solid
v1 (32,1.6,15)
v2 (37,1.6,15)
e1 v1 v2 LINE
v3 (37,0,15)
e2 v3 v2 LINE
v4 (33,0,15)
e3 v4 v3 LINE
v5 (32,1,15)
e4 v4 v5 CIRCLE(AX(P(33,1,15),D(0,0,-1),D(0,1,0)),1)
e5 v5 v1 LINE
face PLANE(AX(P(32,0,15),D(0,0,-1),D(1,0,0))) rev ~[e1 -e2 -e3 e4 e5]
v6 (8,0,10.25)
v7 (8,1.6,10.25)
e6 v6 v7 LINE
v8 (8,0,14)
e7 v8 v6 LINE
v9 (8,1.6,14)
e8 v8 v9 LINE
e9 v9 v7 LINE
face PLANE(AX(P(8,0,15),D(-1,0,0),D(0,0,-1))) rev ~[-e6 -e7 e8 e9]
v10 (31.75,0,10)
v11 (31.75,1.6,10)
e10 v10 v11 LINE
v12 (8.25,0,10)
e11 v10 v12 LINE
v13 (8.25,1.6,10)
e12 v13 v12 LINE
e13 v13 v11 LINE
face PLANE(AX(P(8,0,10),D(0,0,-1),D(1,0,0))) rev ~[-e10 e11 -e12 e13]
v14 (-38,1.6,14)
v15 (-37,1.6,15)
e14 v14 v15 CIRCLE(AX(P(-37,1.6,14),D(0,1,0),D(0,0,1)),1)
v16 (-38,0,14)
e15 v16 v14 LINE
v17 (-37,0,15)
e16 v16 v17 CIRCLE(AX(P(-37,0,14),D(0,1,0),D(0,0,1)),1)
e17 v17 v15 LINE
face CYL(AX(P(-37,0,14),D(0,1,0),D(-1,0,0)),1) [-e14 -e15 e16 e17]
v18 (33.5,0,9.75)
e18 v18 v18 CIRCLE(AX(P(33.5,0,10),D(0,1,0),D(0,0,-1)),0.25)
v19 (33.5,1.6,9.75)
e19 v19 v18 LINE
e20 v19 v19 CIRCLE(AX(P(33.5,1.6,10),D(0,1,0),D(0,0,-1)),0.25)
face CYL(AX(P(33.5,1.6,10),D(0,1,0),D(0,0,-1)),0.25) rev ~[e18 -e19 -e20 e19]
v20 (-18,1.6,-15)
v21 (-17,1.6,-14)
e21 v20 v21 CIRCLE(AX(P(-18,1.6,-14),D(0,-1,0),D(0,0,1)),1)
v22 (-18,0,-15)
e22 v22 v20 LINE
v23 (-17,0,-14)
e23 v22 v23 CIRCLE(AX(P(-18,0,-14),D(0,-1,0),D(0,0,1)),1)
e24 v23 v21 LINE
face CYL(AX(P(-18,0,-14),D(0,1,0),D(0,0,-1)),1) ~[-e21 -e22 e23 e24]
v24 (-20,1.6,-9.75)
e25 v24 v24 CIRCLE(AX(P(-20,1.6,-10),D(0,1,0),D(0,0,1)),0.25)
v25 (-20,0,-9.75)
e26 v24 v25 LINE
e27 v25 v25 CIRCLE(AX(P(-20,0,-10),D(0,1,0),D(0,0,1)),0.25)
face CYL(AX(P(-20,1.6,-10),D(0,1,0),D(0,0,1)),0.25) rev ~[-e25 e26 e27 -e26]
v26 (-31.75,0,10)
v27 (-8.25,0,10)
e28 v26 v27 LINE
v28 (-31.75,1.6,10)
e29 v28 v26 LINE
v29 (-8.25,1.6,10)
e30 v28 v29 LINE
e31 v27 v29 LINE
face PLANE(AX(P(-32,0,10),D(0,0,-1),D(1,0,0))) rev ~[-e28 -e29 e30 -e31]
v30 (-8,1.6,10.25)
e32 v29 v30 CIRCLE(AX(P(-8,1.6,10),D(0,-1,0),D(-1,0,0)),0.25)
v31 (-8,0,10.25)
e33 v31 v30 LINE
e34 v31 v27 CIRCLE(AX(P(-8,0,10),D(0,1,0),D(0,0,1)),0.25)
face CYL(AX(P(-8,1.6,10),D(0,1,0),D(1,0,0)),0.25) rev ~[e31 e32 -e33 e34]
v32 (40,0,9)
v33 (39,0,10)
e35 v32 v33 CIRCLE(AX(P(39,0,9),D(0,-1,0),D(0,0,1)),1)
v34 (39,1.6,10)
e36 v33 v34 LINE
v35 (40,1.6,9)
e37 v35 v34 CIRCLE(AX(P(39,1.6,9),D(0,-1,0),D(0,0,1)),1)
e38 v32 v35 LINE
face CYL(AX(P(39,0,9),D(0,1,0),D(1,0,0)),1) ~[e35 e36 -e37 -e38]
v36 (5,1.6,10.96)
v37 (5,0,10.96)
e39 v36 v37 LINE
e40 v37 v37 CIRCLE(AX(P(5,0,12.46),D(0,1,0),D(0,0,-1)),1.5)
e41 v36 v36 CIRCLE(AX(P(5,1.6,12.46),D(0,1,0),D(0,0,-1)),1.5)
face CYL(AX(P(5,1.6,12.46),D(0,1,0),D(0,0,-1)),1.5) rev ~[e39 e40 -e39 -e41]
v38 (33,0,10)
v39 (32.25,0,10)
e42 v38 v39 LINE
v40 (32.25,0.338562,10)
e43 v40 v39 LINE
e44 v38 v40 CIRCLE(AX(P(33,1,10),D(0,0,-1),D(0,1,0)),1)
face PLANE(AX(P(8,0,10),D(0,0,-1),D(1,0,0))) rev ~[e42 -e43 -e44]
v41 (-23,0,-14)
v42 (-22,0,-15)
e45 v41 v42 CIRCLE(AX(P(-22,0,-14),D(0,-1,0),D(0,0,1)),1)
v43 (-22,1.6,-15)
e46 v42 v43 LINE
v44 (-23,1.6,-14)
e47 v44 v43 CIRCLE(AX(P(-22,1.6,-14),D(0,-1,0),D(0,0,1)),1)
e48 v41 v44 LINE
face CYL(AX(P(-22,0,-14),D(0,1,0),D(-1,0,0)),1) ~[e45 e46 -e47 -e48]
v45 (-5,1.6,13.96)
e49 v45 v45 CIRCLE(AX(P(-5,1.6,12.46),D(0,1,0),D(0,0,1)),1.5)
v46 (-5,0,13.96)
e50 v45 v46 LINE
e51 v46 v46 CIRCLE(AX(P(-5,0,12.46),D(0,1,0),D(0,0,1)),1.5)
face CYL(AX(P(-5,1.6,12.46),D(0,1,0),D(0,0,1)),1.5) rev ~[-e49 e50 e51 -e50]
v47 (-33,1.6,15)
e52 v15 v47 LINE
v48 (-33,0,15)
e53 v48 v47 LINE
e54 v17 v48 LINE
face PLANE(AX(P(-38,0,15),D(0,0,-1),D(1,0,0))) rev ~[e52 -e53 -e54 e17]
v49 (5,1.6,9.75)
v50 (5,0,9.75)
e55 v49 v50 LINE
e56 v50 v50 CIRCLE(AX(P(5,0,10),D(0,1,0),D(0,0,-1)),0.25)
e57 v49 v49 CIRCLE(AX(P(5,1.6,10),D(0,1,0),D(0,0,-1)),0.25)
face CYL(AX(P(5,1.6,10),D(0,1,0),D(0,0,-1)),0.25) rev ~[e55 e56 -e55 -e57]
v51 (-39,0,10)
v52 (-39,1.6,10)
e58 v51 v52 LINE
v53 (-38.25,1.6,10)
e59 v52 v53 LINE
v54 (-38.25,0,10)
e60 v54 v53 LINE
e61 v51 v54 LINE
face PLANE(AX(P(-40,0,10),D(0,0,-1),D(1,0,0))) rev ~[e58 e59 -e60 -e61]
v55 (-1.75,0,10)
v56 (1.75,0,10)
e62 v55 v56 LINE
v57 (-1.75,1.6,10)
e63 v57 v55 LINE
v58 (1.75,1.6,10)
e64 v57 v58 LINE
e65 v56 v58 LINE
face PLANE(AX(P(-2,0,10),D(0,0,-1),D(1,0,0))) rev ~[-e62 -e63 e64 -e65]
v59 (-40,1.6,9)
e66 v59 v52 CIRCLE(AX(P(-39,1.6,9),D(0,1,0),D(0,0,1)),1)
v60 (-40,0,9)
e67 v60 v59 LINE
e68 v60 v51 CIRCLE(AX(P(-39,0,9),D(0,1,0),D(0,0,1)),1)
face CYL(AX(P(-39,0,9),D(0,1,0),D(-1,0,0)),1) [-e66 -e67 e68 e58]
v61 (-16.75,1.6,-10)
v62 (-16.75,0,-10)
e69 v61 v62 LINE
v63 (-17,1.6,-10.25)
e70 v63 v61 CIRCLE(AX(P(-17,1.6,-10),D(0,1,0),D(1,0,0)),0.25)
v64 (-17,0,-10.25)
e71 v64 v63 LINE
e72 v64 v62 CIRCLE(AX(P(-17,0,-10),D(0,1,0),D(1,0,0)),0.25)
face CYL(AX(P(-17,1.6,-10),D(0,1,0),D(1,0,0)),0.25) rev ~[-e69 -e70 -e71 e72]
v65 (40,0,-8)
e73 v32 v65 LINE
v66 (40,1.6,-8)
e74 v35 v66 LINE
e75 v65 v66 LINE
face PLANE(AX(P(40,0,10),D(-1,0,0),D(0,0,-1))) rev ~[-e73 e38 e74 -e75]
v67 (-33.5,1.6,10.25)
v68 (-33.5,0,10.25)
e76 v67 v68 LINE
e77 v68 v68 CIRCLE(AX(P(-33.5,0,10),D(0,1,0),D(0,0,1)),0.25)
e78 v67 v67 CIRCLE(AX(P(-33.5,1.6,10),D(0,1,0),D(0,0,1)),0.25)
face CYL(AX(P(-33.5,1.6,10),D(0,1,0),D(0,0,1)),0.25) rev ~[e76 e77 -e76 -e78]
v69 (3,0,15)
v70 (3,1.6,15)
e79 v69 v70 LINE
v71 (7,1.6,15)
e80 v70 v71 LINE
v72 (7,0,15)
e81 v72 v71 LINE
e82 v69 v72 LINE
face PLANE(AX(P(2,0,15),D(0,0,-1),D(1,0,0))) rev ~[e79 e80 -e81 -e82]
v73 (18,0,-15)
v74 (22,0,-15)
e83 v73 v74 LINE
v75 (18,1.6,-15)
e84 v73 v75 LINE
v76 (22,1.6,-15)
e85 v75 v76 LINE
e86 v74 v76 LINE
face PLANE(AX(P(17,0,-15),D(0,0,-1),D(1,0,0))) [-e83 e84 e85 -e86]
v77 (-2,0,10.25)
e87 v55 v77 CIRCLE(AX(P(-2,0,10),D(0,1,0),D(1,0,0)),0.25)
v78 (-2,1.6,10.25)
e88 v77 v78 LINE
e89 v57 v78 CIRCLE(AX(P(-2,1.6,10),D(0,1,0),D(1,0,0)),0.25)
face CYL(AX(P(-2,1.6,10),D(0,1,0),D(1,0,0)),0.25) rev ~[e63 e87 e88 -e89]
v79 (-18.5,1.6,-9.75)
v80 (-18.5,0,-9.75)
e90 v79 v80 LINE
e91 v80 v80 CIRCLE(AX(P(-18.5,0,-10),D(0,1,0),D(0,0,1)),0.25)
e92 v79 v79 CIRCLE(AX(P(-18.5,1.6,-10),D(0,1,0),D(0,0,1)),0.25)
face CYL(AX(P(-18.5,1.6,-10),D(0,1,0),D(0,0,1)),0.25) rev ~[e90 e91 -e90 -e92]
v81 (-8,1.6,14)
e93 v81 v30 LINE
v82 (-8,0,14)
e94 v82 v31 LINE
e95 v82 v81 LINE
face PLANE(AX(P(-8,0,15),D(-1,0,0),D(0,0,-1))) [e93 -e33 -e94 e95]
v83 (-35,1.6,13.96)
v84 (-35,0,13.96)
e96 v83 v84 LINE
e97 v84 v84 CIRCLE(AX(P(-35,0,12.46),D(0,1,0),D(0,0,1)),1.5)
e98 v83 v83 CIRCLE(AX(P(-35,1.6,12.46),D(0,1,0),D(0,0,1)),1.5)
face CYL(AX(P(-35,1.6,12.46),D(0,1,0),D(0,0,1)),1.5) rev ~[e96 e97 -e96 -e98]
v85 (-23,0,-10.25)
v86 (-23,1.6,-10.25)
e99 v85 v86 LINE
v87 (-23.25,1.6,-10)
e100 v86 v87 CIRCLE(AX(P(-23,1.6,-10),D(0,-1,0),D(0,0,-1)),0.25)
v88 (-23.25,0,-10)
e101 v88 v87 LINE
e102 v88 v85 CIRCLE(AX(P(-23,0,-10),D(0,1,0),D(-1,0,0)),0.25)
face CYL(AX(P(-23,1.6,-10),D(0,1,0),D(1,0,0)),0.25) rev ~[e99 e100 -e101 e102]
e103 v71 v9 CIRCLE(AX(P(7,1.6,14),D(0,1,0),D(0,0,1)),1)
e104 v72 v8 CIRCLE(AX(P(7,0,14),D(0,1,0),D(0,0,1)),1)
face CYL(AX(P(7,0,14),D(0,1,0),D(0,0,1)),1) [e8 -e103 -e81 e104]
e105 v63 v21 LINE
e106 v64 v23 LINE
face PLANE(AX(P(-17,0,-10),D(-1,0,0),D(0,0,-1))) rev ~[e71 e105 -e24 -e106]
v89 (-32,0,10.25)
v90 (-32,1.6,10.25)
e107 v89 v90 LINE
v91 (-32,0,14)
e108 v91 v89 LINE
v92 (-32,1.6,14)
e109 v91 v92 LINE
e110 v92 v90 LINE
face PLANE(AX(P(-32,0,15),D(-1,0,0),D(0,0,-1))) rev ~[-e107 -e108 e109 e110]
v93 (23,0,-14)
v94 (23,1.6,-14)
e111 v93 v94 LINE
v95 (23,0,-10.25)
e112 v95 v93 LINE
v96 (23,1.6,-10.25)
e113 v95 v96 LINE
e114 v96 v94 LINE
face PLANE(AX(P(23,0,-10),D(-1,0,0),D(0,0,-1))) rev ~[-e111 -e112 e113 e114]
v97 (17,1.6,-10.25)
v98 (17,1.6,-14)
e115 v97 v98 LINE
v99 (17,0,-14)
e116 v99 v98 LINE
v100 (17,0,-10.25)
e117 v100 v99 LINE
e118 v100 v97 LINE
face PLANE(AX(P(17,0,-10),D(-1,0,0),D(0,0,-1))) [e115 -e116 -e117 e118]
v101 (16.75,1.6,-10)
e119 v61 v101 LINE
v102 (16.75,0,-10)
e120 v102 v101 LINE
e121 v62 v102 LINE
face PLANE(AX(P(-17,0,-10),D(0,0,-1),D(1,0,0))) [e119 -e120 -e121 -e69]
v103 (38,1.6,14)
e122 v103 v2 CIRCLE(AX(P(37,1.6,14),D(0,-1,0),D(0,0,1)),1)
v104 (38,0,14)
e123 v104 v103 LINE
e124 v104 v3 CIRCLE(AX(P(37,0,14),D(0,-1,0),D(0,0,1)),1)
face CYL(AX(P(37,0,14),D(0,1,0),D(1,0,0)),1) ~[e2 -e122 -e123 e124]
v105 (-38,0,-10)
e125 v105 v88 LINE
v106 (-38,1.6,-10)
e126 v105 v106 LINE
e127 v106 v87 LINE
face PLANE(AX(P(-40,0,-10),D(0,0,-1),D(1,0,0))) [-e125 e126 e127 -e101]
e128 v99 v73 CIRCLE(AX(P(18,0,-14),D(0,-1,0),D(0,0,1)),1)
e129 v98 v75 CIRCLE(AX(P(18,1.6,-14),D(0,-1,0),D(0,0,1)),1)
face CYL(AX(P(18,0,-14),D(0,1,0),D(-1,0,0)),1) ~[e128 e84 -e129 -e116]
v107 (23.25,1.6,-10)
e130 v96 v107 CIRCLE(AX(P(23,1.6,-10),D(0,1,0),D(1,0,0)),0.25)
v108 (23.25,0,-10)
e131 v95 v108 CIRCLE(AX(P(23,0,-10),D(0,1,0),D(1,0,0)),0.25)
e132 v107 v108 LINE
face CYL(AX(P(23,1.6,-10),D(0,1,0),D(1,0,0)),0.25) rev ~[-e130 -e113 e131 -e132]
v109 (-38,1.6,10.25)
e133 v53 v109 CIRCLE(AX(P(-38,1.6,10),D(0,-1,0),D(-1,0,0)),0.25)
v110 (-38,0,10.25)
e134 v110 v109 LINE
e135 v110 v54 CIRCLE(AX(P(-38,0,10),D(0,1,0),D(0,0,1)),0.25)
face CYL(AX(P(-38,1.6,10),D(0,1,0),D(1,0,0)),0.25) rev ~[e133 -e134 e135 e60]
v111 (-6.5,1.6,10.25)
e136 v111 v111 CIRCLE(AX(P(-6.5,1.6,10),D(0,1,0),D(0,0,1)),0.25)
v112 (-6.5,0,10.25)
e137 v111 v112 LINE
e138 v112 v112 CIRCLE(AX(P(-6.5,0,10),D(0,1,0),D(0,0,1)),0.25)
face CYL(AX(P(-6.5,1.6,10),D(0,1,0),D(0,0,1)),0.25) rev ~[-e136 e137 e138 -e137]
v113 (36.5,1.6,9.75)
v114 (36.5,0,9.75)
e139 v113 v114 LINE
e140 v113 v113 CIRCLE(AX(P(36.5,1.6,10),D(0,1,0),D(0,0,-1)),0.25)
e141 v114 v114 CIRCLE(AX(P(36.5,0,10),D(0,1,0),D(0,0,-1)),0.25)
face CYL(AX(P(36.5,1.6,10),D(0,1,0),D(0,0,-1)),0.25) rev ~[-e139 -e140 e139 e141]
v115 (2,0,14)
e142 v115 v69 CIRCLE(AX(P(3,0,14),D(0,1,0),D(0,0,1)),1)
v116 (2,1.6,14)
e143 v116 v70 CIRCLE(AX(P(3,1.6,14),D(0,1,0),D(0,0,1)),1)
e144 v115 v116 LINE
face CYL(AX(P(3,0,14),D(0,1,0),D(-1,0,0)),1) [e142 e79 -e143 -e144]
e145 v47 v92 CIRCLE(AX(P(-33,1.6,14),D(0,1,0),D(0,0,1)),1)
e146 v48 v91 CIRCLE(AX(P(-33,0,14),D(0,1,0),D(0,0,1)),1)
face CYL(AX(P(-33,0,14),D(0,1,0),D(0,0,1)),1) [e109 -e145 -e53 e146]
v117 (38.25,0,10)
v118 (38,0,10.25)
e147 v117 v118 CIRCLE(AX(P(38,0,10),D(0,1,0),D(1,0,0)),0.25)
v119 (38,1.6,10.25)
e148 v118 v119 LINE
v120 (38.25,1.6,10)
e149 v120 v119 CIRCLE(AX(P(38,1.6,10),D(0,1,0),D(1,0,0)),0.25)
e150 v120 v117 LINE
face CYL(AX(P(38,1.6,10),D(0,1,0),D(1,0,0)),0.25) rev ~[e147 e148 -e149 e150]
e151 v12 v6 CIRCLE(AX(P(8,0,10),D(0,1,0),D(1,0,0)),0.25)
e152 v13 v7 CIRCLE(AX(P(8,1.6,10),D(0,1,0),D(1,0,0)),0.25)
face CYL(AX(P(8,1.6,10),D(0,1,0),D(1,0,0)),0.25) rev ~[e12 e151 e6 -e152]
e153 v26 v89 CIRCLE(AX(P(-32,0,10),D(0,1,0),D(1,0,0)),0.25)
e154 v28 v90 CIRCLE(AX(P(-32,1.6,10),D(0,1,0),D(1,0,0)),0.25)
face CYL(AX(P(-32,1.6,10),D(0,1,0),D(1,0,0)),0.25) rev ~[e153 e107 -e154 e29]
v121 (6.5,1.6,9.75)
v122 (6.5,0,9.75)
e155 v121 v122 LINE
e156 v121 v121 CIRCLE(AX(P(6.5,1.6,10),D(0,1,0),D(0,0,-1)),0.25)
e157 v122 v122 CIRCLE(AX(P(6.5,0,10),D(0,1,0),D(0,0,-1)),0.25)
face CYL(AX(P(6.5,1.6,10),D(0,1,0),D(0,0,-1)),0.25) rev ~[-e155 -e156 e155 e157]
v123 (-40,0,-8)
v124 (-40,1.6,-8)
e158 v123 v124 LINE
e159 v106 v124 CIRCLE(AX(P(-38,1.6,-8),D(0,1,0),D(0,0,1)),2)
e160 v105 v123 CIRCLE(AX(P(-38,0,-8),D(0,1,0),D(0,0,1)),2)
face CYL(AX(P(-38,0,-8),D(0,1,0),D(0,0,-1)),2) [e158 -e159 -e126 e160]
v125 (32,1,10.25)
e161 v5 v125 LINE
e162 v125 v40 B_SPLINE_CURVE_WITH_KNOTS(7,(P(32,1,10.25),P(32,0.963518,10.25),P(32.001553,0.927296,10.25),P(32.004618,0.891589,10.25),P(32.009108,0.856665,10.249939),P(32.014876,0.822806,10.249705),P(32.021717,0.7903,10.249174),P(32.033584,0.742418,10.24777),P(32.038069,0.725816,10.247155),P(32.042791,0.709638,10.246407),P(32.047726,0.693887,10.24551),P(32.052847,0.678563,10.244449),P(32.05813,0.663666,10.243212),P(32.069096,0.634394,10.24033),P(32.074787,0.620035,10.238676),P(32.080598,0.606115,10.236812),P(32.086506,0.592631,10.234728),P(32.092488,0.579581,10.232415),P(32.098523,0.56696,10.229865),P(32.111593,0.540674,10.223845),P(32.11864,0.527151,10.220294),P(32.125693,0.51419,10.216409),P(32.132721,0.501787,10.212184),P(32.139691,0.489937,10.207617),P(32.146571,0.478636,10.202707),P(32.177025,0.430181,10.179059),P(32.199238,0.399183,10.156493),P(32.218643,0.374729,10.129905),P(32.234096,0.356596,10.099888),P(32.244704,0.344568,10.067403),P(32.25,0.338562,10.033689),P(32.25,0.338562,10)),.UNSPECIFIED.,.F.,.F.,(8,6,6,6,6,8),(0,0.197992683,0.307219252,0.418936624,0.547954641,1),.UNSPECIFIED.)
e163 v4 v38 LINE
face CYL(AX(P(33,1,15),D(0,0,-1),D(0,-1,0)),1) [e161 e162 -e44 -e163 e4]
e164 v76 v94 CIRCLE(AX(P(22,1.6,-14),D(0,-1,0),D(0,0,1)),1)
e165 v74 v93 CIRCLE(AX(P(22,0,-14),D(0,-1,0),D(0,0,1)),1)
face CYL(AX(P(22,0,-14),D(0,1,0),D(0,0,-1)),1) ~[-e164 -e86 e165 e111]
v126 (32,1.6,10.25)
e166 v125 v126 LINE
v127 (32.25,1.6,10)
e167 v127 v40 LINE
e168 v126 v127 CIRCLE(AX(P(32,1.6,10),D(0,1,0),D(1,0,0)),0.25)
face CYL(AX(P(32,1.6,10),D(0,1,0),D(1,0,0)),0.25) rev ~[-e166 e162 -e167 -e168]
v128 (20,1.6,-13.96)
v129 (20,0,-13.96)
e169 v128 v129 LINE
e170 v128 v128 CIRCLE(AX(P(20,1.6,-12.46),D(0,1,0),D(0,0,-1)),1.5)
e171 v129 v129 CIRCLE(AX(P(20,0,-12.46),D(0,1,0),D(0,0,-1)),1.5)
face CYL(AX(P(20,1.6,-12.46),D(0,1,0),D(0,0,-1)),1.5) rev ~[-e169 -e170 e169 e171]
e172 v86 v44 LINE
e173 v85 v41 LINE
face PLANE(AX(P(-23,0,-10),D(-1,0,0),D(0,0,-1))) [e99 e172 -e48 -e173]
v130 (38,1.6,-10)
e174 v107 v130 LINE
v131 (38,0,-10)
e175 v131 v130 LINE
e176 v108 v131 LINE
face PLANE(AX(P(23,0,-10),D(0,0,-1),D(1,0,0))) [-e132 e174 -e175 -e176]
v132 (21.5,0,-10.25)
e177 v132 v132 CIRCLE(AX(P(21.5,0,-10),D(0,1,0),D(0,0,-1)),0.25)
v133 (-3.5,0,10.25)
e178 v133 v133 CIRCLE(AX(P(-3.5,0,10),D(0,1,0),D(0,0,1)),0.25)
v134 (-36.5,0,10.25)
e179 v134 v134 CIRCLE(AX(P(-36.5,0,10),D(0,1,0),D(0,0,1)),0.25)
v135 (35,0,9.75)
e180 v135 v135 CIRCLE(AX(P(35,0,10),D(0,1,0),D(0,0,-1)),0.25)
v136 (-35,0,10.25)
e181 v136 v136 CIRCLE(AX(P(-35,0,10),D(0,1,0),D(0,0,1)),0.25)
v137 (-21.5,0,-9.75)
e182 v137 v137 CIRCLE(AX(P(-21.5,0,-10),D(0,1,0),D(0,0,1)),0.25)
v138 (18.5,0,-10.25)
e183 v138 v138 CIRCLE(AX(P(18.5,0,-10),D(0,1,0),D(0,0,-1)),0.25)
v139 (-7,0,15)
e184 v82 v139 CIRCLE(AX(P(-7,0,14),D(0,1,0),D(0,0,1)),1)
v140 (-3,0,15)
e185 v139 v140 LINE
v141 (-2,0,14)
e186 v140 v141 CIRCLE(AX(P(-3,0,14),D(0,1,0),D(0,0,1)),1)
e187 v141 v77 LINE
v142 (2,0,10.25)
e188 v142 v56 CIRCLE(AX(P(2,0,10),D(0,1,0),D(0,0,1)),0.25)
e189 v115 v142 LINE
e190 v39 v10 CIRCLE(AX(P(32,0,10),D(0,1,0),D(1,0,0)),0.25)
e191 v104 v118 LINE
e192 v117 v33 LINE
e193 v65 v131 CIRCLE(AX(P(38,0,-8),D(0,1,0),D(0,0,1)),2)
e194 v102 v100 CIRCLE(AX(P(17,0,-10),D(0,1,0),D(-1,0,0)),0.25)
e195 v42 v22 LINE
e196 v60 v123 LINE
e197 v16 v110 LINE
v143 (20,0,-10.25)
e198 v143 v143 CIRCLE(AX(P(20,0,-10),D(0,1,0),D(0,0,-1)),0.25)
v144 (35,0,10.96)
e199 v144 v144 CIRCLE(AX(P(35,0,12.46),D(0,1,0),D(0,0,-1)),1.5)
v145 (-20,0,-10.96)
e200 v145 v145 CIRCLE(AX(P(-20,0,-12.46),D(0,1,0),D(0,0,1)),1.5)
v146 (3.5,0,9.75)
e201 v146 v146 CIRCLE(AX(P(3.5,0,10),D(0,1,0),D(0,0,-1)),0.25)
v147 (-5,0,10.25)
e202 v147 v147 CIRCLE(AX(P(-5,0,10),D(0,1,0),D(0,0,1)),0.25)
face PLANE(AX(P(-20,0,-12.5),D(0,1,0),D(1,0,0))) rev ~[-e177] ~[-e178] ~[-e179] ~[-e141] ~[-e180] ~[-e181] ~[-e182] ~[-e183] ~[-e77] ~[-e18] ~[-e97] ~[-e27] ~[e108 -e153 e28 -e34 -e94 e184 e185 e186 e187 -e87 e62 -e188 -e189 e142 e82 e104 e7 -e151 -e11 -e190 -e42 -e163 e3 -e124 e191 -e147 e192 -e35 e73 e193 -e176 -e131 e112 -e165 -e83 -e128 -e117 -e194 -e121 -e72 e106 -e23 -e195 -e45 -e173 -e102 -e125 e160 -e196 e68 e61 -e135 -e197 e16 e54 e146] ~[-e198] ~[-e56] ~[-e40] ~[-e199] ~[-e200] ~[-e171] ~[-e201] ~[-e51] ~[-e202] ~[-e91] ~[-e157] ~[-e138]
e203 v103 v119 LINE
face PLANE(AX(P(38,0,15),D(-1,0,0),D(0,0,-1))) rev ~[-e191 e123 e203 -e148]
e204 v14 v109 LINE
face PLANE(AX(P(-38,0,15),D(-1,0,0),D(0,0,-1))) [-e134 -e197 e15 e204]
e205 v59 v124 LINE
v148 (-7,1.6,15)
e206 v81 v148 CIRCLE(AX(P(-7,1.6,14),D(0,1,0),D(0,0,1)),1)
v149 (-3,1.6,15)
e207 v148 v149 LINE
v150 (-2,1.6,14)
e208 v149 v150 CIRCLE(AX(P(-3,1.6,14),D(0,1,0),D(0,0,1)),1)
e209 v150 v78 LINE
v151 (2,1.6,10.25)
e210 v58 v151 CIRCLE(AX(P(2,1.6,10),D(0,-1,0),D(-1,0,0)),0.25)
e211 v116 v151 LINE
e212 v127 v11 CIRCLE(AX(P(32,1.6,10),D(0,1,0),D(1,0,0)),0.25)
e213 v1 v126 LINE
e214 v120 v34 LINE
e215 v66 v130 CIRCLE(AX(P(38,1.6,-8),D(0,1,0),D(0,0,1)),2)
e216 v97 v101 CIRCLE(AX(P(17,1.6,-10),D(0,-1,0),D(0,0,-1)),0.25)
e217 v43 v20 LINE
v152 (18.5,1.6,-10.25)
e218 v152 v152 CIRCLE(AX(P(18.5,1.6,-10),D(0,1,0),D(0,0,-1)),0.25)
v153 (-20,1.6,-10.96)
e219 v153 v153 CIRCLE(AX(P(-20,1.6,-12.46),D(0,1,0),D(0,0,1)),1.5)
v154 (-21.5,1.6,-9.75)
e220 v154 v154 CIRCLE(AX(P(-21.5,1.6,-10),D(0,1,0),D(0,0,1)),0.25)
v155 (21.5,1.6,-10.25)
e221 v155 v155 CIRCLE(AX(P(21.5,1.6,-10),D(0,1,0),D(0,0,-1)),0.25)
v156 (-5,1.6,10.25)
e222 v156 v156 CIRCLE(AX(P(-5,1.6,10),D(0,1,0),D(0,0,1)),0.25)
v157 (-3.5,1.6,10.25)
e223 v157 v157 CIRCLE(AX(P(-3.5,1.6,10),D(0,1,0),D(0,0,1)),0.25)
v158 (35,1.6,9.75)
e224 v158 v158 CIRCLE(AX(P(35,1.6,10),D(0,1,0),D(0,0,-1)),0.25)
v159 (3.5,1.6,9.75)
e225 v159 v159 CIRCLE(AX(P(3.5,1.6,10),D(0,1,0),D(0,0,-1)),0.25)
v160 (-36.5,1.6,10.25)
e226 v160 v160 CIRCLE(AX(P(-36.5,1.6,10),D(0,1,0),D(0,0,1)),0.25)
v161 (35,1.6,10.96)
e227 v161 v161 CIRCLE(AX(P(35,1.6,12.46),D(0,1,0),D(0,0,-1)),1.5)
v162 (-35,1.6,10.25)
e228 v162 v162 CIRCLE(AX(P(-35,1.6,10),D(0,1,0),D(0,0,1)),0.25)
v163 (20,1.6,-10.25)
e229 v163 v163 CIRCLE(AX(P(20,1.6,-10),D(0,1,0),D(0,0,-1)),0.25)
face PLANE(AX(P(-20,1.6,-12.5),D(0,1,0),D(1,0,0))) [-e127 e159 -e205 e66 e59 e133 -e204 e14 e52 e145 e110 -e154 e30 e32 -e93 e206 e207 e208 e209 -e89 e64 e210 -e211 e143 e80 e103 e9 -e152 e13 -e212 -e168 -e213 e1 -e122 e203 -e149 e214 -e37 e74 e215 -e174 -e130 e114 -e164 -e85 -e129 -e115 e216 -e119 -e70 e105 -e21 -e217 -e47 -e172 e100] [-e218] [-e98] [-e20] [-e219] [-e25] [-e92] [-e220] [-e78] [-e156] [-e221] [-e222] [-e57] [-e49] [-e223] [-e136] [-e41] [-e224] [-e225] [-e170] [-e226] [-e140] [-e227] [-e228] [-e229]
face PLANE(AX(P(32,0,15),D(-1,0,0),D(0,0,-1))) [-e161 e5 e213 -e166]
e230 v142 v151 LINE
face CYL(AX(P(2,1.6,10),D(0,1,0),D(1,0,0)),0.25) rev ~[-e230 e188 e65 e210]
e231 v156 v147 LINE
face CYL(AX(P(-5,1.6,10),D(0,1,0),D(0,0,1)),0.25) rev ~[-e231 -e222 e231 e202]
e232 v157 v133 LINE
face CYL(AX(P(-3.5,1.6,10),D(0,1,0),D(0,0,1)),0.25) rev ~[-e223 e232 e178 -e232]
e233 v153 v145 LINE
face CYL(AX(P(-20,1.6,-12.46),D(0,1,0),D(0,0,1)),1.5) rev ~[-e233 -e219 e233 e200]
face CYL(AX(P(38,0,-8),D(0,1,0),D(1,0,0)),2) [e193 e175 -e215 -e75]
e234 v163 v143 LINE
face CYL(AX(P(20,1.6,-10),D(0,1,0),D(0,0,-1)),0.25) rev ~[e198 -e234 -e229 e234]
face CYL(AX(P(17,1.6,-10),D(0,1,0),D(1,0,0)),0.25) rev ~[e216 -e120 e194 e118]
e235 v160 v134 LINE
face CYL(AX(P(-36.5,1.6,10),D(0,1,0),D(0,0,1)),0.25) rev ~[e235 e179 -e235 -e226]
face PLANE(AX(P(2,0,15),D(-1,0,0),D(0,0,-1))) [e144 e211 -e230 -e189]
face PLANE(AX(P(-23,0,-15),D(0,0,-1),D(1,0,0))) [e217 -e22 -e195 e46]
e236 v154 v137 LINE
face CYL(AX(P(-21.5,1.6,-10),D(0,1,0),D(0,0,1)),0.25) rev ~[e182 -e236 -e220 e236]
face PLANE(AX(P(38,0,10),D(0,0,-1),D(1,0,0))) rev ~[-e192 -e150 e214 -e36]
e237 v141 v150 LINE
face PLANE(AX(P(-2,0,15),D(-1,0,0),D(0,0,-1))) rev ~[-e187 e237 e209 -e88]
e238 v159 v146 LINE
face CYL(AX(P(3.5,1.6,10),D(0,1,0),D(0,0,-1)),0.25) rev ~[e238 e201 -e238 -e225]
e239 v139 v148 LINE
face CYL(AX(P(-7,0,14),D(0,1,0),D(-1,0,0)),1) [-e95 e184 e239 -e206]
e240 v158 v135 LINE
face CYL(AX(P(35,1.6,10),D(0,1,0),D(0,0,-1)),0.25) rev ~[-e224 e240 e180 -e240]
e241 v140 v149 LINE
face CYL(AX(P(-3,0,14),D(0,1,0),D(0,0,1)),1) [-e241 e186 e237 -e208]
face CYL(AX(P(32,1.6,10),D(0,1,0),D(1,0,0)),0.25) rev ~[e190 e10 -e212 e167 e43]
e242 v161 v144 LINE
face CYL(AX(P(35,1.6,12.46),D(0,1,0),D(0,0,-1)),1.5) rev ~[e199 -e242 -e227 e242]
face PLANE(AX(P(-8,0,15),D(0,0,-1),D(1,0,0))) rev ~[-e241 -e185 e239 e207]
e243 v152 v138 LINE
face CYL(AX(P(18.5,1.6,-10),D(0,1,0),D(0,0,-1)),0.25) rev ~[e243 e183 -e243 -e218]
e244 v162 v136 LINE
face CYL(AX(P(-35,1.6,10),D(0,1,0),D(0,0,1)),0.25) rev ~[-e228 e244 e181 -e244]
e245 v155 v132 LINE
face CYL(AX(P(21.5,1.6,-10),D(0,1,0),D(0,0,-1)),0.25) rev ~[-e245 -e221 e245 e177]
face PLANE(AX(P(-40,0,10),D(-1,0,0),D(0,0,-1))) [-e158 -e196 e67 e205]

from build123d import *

# Parameters (mm, degrees)
SKETCH_1_W          = 6
SKETCH_1_H          = 5
SKETCH_1_W_2        = 80
SKETCH_1_H_2        = 20
EXTRUDE_1_DEPTH     = 1.6
SKETCH_2_R          = 1.5
CUT_EXTRUDE_1_DEPTH = 43.74997076
FILLET_1_R          = 1
SKETCH_3_R          = 0.25
CUT_EXTRUDE_2_DEPTH = 43.74997076
FILLET_2_R          = 2


with BuildPart() as part:
    # Эскиз1 → Бобышка-Вытянуть1 (new body)
    with BuildSketch(Plane(origin=(0, 0, 0), x_dir=(1, 0, 0), z_dir=(0, 1, 0))):
        with Locations((-20, 12.5)):
            Rectangle(SKETCH_1_W, SKETCH_1_H)
        Rectangle(SKETCH_1_W_2, SKETCH_1_H_2)
        with Locations((20, 12.5)):
            Rectangle(SKETCH_1_W, SKETCH_1_H)
        with Locations((35, -12.5)):
            Rectangle(SKETCH_1_W, SKETCH_1_H)
        with Locations((5, -12.5)):
            Rectangle(SKETCH_1_W, SKETCH_1_H)
        with Locations((-5, -12.5)):
            Rectangle(SKETCH_1_W, SKETCH_1_H)
        with Locations((-35, -12.5)):
            Rectangle(SKETCH_1_W, SKETCH_1_H)
    extrude(amount=EXTRUDE_1_DEPTH)

    # Эскиз2 → Вырез-Вытянуть1 (cut, through all)
    with BuildSketch(Plane(origin=(0, 1.6, 0), x_dir=(1, 0, 0), z_dir=(0, 1, 0))):
        with Locations(Location((-20, 12.46, 0), (0, 0, 270))):
            Circle(SKETCH_2_R)
        with Locations(Location((-35, -12.46, 0), (0, 0, 270))):
            Circle(SKETCH_2_R)
        with Locations(Location((-5, -12.46, 0), (0, 0, 270))):
            Circle(SKETCH_2_R)
        with Locations(Location((5, -12.46, 0), (0, 0, 90))):
            Circle(SKETCH_2_R)
        with Locations(Location((35, -12.46, 0), (0, 0, 90))):
            Circle(SKETCH_2_R)
        with Locations(Location((20, 12.46, 0), (0, 0, 90))):
            Circle(SKETCH_2_R)
    extrude(amount=-CUT_EXTRUDE_1_DEPTH, mode=Mode.SUBTRACT)

    # Скругление1
    fillet_1_edges = [part.edges().sort_by_distance(p)[0] for p in [
        (32, 0, 12.5),
        (-23, 0.8, -15),
        (-17, 0.8, -15),
        (17, 0.8, -15),
        (23, 0.8, -15),
        (40, 0.8, 10),
        (38, 0.8, 15),
        (8, 0.8, 15),
        (2, 0.8, 15),
        (-2, 0.8, 15),
        (-8, 0.8, 15),
        (-32, 0.8, 15),
        (-38, 0.8, 15),
        (-40, 0.8, 10),
    ]]
    fillet(fillet_1_edges, radius=FILLET_1_R)

    # Эскиз3 → Вырез-Вытянуть2 (cut, through all)
    with BuildSketch(Plane(origin=(0, 1.6, 0), x_dir=(1, 0, 0), z_dir=(0, 1, 0))):
        with Locations((-23, 10)):
            Circle(SKETCH_3_R)
        with Locations(Location((-21.5, 10, 0), (0, 0, 270))):
            Circle(SKETCH_3_R)
        with Locations(Location((-20, 10, 0), (0, 0, 270))):
            Circle(SKETCH_3_R)
        with Locations(Location((-18.5, 10, 0), (0, 0, 270))):
            Circle(SKETCH_3_R)
        with Locations((-17, 10)):
            Circle(SKETCH_3_R)
        with Locations((-38, -10)):
            Circle(SKETCH_3_R)
        with Locations(Location((-36.5, -10, 0), (0, 0, 270))):
            Circle(SKETCH_3_R)
        with Locations(Location((-35, -10, 0), (0, 0, 270))):
            Circle(SKETCH_3_R)
        with Locations(Location((-33.5, -10, 0), (0, 0, 270))):
            Circle(SKETCH_3_R)
        with Locations((-32, -10)):
            Circle(SKETCH_3_R)
        with Locations((-8, -10)):
            Circle(SKETCH_3_R)
        with Locations(Location((-6.5, -10, 0), (0, 0, 270))):
            Circle(SKETCH_3_R)
        with Locations(Location((-5, -10, 0), (0, 0, 270))):
            Circle(SKETCH_3_R)
        with Locations(Location((-3.5, -10, 0), (0, 0, 270))):
            Circle(SKETCH_3_R)
        with Locations((-2, -10)):
            Circle(SKETCH_3_R)
        with Locations((2, -10)):
            Circle(SKETCH_3_R)
        with Locations(Location((3.5, -10, 0), (0, 0, 90))):
            Circle(SKETCH_3_R)
        with Locations(Location((5, -10, 0), (0, 0, 90))):
            Circle(SKETCH_3_R)
        with Locations(Location((6.5, -10, 0), (0, 0, 90))):
            Circle(SKETCH_3_R)
        with Locations((8, -10)):
            Circle(SKETCH_3_R)
        with Locations((32, -10)):
            Circle(SKETCH_3_R)
        with Locations(Location((33.5, -10, 0), (0, 0, 90))):
            Circle(SKETCH_3_R)
        with Locations(Location((35, -10, 0), (0, 0, 90))):
            Circle(SKETCH_3_R)
        with Locations(Location((36.5, -10, 0), (0, 0, 90))):
            Circle(SKETCH_3_R)
        with Locations((38, -10)):
            Circle(SKETCH_3_R)
        with Locations((17, 10)):
            Circle(SKETCH_3_R)
        with Locations(Location((18.5, 10, 0), (0, 0, 90))):
            Circle(SKETCH_3_R)
        with Locations(Location((20, 10, 0), (0, 0, 90))):
            Circle(SKETCH_3_R)
        with Locations(Location((21.5, 10, 0), (0, 0, 90))):
            Circle(SKETCH_3_R)
        with Locations((23, 10)):
            Circle(SKETCH_3_R)
    extrude(amount=-CUT_EXTRUDE_2_DEPTH, mode=Mode.SUBTRACT)

    # Скругление2
    fillet_2_edges = [part.edges().sort_by_distance(p)[0] for p in [
        (40, 0.8, -10),
        (-40, 0.8, -10),
    ]]
    fillet(fillet_2_edges, radius=FILLET_2_R)


solid = part.part
